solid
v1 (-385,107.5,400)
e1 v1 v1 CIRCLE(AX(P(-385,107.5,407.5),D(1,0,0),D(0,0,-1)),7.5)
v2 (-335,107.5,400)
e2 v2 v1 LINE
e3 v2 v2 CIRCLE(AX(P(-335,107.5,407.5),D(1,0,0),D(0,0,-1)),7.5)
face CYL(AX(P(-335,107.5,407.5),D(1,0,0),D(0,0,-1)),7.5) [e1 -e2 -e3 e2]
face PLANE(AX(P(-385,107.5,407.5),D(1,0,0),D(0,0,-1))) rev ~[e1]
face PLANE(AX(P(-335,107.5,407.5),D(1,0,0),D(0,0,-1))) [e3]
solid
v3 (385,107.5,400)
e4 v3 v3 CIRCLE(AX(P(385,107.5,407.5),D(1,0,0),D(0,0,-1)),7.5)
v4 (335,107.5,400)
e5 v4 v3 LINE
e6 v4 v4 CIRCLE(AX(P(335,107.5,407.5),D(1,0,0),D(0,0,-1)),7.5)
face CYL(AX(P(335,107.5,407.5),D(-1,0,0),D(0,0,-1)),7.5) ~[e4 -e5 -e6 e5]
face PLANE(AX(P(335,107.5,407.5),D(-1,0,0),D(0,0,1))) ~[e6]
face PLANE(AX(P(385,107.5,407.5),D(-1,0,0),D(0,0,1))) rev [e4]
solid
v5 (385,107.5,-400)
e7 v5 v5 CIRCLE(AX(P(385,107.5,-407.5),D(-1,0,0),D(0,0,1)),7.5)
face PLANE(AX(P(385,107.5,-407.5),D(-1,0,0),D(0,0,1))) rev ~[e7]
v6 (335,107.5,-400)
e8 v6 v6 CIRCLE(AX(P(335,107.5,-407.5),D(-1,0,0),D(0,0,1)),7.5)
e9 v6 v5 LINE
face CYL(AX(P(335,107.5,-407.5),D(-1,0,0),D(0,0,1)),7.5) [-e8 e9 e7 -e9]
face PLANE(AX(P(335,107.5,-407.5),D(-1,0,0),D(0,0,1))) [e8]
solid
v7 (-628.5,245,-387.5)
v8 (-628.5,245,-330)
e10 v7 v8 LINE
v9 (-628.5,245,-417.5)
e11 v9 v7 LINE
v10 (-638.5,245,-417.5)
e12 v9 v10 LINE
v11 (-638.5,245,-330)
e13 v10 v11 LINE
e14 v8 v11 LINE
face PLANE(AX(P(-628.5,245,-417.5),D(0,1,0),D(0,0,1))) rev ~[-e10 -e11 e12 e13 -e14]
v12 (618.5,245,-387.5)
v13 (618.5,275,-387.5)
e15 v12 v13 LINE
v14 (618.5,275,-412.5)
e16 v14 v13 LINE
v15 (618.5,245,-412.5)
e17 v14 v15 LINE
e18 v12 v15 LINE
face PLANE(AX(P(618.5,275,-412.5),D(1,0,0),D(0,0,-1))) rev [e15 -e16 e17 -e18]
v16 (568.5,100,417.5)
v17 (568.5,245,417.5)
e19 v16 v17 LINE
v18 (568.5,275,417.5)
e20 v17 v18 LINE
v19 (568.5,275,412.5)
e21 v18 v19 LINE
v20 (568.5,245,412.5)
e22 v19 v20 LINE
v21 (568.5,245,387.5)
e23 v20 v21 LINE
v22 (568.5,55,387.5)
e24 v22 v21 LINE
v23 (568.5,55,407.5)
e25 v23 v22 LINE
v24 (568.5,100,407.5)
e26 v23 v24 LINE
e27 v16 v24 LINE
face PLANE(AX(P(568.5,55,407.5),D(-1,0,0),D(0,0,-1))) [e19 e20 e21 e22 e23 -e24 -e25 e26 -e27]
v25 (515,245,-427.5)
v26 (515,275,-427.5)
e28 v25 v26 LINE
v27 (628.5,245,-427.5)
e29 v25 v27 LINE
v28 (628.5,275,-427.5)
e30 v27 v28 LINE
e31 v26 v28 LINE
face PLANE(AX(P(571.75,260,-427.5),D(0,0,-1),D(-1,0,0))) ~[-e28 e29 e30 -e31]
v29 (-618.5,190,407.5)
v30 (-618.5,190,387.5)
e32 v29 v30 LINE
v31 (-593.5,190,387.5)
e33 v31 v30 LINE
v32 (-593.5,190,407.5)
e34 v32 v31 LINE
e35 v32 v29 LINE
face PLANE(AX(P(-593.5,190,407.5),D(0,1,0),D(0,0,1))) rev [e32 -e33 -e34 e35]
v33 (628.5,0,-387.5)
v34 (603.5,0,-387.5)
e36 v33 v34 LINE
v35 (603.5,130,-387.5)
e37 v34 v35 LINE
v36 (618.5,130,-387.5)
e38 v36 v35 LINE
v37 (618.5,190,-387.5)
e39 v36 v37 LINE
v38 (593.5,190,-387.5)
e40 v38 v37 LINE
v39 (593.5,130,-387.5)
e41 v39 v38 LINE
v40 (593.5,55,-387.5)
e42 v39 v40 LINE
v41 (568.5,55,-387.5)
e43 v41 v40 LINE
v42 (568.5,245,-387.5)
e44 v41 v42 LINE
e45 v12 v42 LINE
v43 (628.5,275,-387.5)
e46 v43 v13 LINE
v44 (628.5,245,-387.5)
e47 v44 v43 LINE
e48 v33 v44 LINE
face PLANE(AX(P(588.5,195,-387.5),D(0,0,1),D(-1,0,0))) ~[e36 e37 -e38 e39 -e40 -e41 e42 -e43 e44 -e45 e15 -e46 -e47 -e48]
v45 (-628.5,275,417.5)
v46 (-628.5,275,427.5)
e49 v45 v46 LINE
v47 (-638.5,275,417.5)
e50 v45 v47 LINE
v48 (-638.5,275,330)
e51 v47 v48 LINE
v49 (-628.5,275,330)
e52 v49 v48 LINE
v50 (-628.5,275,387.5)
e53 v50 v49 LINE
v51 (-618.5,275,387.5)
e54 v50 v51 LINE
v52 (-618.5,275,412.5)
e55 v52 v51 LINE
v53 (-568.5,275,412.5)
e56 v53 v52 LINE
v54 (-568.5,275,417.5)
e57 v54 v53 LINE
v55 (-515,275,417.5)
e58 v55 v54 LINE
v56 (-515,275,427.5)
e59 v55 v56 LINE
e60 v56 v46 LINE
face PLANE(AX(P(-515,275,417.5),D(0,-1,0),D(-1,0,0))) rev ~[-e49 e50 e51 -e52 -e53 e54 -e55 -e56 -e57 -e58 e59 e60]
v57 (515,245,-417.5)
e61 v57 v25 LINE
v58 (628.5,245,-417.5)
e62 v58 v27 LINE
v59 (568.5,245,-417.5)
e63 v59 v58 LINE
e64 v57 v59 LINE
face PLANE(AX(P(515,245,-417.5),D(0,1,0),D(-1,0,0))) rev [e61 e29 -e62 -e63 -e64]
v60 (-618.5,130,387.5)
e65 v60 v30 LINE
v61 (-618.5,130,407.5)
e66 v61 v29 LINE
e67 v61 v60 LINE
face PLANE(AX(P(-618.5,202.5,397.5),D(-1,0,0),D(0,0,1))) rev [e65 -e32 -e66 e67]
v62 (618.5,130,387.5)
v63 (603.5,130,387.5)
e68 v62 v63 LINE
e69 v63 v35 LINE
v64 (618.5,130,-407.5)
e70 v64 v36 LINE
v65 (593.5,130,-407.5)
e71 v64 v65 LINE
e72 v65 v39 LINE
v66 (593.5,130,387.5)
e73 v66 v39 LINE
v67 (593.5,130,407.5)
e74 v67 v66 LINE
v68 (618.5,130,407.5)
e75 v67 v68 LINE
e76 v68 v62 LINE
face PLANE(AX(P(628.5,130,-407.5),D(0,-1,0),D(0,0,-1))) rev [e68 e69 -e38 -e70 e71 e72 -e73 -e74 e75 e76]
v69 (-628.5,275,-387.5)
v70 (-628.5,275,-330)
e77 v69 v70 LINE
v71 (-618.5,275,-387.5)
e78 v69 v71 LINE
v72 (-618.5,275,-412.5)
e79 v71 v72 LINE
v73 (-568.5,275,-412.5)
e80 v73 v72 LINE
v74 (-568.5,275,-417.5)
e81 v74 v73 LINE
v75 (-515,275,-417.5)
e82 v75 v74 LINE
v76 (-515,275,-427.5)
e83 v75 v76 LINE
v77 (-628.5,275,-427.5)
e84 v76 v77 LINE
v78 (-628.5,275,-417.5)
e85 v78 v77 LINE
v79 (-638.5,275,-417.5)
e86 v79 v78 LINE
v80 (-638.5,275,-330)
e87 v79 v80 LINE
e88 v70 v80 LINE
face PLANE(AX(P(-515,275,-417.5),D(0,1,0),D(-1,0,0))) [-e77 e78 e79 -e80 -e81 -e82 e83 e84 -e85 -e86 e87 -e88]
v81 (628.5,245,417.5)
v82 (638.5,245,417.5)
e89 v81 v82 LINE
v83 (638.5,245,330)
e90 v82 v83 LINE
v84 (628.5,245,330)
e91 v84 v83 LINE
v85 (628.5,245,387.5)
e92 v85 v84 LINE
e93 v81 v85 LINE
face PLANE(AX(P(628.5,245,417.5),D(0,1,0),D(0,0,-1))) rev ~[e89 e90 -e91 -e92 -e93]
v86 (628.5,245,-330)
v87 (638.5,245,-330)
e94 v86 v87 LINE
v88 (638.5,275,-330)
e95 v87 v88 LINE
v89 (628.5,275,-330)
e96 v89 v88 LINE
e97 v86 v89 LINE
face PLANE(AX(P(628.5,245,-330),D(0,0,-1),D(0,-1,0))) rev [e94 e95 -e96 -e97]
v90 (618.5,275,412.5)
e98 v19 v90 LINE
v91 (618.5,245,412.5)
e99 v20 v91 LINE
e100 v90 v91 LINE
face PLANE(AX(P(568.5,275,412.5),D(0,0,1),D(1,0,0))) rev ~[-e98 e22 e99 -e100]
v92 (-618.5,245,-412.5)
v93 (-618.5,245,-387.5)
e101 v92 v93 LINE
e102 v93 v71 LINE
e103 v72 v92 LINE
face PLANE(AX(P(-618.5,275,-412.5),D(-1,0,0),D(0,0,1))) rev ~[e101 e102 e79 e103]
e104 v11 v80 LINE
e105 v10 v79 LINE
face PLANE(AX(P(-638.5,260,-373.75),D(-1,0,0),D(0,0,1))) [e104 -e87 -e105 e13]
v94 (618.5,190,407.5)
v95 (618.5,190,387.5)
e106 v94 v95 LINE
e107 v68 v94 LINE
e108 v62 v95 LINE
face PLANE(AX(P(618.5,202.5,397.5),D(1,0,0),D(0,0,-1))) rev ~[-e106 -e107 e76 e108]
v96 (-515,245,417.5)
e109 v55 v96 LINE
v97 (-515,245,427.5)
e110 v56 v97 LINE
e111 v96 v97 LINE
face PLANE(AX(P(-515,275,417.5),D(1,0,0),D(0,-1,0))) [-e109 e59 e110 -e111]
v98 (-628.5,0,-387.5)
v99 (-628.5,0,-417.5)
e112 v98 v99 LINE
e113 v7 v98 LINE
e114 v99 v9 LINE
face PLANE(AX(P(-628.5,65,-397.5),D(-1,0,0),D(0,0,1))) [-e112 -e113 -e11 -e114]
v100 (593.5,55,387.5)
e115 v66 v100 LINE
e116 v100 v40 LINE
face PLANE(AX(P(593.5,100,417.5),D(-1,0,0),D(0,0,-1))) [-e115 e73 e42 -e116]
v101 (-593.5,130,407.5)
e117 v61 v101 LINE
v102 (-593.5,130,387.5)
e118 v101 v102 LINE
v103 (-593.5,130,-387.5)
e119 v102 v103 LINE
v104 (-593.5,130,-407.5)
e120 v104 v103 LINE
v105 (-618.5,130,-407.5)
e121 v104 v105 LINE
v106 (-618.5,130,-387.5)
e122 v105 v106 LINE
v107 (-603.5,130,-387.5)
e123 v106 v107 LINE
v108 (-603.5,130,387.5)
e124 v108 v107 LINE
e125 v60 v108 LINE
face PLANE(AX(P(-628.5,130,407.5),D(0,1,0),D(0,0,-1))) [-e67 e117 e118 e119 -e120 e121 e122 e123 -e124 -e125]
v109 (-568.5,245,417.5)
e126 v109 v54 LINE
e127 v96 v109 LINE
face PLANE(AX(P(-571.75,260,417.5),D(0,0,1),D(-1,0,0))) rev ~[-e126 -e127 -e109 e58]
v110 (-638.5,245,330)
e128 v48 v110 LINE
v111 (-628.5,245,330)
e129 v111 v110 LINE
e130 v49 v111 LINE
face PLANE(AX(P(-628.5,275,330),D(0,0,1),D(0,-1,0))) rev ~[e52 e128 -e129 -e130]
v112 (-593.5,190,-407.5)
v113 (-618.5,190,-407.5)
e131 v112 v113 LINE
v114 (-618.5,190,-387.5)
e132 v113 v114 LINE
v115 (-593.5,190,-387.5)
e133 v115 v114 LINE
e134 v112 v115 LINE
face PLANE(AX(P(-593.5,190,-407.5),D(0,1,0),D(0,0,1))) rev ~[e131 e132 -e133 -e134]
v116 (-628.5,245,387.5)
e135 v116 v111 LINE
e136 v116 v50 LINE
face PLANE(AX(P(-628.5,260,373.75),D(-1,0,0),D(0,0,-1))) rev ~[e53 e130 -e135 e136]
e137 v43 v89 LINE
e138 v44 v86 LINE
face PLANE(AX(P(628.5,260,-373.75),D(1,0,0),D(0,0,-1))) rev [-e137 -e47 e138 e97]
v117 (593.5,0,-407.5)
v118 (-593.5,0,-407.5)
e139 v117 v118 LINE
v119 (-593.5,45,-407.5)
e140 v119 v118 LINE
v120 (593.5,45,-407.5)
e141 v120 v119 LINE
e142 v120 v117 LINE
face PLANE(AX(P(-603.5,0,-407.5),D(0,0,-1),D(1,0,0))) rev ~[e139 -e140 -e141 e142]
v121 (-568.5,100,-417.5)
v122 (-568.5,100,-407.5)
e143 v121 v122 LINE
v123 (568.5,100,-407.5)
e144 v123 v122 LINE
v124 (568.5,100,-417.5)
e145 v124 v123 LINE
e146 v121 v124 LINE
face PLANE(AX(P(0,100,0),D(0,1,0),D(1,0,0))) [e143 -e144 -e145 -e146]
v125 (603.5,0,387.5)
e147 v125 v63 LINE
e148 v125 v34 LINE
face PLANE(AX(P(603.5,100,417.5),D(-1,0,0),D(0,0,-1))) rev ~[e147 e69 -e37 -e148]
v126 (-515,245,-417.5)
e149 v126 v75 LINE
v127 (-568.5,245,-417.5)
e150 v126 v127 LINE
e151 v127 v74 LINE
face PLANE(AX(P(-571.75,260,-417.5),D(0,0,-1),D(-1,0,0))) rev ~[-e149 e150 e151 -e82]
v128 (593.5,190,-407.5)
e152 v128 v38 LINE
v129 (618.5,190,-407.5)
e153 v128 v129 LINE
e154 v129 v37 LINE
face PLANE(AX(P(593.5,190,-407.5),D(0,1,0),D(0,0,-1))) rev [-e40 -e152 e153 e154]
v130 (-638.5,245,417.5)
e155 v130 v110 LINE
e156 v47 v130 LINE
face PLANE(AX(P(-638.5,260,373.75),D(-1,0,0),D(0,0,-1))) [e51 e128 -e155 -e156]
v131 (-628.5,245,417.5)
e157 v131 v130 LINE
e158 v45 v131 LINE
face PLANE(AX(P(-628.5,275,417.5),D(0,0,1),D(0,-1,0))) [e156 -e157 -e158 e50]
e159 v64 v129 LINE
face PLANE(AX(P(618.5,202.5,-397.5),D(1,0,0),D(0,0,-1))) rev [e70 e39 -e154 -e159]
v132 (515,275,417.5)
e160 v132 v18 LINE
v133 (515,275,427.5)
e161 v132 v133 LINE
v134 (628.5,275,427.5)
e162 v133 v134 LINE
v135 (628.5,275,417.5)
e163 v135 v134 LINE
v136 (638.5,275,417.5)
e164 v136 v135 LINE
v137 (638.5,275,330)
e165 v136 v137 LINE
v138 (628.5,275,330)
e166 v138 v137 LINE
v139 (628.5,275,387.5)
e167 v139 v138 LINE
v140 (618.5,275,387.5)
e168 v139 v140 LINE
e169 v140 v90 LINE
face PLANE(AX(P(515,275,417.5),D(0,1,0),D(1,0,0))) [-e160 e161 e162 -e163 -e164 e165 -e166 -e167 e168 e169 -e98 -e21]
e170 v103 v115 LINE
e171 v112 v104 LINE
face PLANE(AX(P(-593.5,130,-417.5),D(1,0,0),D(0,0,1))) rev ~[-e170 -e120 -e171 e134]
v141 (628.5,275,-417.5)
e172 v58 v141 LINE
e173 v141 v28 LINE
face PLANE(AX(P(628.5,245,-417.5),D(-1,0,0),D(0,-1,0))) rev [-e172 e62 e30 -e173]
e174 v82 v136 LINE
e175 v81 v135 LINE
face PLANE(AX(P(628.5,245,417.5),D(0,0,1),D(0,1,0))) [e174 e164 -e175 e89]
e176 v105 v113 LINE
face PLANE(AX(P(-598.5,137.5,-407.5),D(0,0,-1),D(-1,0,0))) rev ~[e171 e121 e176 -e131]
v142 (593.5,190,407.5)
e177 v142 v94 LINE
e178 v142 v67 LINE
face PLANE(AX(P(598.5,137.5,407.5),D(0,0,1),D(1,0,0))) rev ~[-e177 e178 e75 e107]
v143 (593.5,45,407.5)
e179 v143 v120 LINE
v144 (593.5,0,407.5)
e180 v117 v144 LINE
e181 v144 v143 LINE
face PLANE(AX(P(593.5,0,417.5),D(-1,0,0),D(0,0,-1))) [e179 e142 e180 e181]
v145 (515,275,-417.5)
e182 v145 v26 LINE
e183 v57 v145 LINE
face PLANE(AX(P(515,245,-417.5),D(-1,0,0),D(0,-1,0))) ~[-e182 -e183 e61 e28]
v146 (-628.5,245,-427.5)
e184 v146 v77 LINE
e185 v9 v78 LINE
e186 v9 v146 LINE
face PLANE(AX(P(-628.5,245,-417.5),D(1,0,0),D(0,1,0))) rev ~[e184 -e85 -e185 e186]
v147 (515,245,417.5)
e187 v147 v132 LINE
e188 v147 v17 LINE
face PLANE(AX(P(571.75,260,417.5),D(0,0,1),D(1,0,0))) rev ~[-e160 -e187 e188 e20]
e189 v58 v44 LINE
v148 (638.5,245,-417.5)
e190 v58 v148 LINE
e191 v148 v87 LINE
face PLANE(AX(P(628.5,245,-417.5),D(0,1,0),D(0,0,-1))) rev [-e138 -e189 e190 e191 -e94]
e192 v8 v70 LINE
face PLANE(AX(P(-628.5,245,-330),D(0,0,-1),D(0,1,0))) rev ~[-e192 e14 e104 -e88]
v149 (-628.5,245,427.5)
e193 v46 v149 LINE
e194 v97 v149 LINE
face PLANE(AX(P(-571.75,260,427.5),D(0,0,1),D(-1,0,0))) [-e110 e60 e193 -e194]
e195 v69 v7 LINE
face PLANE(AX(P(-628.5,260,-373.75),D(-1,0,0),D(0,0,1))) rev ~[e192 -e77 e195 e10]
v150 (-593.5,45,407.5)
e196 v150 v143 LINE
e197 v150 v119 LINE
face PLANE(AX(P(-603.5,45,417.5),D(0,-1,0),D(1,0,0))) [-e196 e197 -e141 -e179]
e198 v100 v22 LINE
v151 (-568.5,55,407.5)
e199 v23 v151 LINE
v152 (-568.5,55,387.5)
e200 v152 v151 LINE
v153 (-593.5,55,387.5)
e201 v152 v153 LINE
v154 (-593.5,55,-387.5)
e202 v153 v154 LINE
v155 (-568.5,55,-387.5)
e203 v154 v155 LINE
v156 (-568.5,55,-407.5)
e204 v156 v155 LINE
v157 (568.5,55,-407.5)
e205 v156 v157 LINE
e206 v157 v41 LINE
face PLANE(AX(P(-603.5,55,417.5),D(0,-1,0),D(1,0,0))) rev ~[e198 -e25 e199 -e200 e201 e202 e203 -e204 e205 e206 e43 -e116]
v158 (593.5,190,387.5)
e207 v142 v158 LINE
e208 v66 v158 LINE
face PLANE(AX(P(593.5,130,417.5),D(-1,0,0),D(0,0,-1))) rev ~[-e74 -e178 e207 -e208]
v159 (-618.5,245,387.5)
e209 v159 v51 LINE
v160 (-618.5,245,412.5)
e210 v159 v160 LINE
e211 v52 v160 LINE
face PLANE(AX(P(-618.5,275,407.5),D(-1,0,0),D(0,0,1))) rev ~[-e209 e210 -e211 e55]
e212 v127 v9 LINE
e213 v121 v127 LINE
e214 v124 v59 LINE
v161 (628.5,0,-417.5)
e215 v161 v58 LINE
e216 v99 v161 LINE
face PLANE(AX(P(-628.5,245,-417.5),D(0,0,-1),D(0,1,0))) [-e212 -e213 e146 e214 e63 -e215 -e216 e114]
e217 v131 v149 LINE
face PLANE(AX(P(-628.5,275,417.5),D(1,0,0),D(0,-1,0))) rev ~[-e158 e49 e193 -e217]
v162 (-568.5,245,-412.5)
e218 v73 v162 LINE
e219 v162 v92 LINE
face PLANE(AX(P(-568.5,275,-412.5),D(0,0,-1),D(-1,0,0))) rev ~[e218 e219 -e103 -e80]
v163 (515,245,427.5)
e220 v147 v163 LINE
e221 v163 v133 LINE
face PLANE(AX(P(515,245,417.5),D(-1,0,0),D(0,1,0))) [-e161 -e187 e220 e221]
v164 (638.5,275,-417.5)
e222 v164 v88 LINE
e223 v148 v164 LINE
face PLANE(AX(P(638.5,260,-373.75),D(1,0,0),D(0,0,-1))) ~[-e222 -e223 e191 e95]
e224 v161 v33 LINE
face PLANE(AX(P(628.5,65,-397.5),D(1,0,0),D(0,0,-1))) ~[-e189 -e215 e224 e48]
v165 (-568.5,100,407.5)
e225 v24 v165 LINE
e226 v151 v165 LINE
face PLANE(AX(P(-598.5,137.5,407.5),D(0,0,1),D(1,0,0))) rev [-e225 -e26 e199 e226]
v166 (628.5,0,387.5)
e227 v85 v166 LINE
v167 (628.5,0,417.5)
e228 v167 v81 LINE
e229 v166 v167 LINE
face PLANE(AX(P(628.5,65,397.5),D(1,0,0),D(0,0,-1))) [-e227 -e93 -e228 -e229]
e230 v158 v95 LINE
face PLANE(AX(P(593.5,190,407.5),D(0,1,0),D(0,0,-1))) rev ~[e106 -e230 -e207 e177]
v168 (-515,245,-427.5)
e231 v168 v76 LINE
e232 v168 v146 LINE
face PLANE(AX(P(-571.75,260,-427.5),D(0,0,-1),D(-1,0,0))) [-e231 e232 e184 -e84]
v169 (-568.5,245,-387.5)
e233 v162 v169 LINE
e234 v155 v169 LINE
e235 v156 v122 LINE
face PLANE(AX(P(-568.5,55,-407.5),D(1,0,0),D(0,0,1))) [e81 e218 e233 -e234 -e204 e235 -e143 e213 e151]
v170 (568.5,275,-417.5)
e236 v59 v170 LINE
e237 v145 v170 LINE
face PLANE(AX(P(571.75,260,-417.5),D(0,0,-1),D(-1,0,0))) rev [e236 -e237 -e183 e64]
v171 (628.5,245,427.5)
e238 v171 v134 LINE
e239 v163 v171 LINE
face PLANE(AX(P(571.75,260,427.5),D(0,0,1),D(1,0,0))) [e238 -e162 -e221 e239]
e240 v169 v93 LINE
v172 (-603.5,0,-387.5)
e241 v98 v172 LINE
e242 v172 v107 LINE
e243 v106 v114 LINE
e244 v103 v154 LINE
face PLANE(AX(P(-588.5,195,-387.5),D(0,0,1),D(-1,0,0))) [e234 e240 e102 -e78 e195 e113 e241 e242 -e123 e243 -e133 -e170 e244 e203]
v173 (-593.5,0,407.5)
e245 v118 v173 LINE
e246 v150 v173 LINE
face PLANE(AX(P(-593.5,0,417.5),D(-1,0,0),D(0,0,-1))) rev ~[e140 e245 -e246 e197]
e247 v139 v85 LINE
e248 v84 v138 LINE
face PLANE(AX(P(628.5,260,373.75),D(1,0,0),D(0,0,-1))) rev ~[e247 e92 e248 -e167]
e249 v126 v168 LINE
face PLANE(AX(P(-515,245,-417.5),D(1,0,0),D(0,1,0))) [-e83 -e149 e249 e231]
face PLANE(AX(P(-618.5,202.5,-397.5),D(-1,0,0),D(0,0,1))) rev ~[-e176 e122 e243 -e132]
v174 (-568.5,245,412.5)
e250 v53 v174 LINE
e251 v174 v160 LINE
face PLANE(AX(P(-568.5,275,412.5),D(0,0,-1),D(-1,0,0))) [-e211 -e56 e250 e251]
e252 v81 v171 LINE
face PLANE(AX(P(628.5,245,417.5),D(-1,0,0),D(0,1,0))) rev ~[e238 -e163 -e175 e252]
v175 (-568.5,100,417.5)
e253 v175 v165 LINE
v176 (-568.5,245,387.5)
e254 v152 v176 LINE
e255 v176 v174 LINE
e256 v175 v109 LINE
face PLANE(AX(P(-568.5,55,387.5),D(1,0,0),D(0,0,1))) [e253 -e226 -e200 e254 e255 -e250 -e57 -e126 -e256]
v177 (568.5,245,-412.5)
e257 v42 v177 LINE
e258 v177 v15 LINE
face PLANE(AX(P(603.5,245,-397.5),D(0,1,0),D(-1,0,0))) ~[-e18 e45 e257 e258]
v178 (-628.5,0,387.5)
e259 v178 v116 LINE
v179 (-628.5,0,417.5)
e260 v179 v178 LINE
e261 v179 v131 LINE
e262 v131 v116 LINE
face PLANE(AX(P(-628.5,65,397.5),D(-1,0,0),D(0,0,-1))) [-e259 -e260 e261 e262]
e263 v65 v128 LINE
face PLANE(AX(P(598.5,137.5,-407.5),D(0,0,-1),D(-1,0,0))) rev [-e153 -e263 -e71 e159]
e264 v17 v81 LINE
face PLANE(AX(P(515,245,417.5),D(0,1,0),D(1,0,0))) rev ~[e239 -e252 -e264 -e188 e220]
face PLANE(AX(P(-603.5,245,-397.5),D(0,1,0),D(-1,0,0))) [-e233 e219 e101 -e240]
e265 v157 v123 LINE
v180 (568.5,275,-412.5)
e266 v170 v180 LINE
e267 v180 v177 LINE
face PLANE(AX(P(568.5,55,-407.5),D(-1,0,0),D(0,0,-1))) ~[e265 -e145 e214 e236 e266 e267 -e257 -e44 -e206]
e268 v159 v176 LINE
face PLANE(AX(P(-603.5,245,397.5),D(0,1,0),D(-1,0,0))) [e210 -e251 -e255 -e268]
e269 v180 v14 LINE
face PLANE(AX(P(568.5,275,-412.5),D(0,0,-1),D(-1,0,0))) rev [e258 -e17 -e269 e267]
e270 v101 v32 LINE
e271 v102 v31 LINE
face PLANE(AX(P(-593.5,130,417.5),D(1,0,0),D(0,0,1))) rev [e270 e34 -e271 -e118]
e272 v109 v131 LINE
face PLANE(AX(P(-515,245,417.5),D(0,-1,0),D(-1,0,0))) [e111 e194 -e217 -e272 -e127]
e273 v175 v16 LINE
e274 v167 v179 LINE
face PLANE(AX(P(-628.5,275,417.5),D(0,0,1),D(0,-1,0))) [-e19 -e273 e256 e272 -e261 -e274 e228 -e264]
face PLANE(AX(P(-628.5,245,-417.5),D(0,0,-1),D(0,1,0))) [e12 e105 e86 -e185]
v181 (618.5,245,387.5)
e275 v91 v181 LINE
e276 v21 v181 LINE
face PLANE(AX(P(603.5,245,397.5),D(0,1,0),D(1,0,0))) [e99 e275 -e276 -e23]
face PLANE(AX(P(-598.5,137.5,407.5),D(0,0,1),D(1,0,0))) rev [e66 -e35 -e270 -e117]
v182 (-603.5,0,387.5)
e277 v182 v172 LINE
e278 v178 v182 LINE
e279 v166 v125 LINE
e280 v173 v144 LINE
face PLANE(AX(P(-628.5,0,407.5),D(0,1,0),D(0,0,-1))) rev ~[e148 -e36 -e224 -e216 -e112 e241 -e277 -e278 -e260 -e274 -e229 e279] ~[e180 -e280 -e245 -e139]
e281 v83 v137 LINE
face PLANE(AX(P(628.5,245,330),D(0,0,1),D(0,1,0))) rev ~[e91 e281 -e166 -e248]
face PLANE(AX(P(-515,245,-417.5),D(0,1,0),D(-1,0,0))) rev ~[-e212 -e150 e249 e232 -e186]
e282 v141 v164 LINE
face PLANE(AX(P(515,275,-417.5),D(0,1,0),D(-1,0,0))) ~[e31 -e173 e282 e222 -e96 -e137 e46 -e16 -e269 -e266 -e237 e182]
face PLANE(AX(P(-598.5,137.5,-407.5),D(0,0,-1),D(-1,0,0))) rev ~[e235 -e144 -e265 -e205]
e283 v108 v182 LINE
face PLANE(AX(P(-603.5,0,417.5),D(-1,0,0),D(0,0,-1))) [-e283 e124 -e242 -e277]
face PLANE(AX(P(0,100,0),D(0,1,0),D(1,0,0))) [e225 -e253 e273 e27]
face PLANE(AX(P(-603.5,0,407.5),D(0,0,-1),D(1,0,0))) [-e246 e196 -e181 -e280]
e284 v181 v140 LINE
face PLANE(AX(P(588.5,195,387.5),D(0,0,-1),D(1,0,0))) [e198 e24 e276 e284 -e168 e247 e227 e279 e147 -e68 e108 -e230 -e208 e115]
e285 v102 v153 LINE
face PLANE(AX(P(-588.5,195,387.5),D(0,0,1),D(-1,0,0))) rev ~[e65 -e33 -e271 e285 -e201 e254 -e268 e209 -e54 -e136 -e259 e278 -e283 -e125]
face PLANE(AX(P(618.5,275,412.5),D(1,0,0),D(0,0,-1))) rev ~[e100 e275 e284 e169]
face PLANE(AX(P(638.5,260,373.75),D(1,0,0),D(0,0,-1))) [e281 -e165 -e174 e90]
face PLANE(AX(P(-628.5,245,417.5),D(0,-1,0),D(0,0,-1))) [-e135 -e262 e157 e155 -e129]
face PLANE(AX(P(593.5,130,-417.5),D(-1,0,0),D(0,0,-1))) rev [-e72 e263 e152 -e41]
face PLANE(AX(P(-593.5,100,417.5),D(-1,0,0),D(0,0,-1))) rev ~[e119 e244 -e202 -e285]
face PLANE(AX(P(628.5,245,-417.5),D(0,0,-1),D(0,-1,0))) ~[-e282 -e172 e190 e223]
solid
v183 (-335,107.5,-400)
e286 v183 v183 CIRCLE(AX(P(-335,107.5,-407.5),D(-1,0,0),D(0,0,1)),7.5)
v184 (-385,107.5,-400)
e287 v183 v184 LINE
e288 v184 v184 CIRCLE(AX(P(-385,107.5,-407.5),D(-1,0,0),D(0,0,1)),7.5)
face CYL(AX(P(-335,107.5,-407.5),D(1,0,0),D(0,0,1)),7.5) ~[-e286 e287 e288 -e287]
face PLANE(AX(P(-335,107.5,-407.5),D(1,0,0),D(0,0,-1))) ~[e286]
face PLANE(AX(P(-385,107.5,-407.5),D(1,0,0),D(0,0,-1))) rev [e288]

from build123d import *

# Parameters (mm, degrees)
SCHIZZO1_W                    = 1207
SCHIZZO1_H                    = 835
ESTRUSIONE_ESTRUSIONE2_DEPTH  = 100
SVUOTA1_T                     = -10
ESTRUSIONE_ESTRUSIONE3_REACH  = 837
SCHIZZO6_W                    = 1207
SCHIZZO6_H                    = 10
SCHIZZO12_W                   = 10
SCHIZZO12_H                   = 835
ESTRUSIONE_ESTRUSIONE10_DEPTH = 30
SCHIZZO7_W                    = 60
SCHIZZO7_H                    = 275
ESTRUSIONE_ESTRUSIONE4_DEPTH  = 10
SCHIZZO8_W                    = 20
SCHIZZO8_H                    = 145
ESTRUSIONE_ESTRUSIONE5_DEPTH  = 10
SCHIZZO9_W                    = 5
SCHIZZO9_H                    = 30
ESTRUSIONE_ESTRUSIONE6_DEPTH  = 75
SCHIZZO10_W                   = 5
SCHIZZO10_H                   = 30
ESTRUSIONE_ESTRUSIONE7_DEPTH  = 65
SCHIZZO11_W                   = 5
SCHIZZO11_H                   = 20
ESTRUSIONE_ESTRUSIONE8_DEPTH  = 25
SCHIZZO8_3_W                  = 20
SCHIZZO8_3_H                  = 130
ESTRUSIONE_ESTRUSIONE9_DEPTH  = 25
SCHIZZO14_W                   = 87.5
SCHIZZO14_H                   = 30
ESTRUSIONE_ESTRUSIONE12_DEPTH = 10
SCHIZZO15_W                   = 50
SCHIZZO15_H                   = 5
TAGLIO_ESTRUSIONE1_DEPTH      = 30
SCHIZZO16_W                   = 20
SCHIZZO16_H                   = 20
ESTRUSIONE_ESTRUSIONE13_DEPTH = 190
SCHIZZO17_W                   = 30
SCHIZZO17_H                   = 20
ESTRUSIONE_ESTRUSIONE14_DEPTH = 50
SCHIZZO18_W                   = 113.5
SCHIZZO18_H                   = 30
ESTRUSIONE_ESTRUSIONE15_DEPTH = 10
SPECCHIA2_COPY_1_SKETCH_W     = 60
SPECCHIA2_COPY_1_SKETCH_H     = 275
SPECCHIA2_COPY_1_DEPTH        = 10
SPECCHIA2_COPY_2_SKETCH_W     = 20
SPECCHIA2_COPY_2_SKETCH_H     = 145
SPECCHIA2_COPY_2_DEPTH        = 10
SPECCHIA2_COPY_3_SKETCH_W     = 5
SPECCHIA2_COPY_3_SKETCH_H     = 30
SPECCHIA2_COPY_3_DEPTH        = 75
SPECCHIA2_COPY_4_SKETCH_W     = 5
SPECCHIA2_COPY_4_SKETCH_H     = 30
SPECCHIA2_COPY_4_DEPTH        = 65
SPECCHIA2_COPY_5_SKETCH_W     = 5
SPECCHIA2_COPY_5_SKETCH_H     = 20
SPECCHIA2_COPY_5_DEPTH        = 25
SPECCHIA2_COPY_6_SKETCH_W     = 20
SPECCHIA2_COPY_6_SKETCH_H     = 130
SPECCHIA2_COPY_6_DEPTH        = 25
SPECCHIA2_COPY_7_SKETCH_W     = 87.5
SPECCHIA2_COPY_7_SKETCH_H     = 30
SPECCHIA2_COPY_7_DEPTH        = 10
SPECCHIA2_COPY_8_SKETCH_W     = 50
SPECCHIA2_COPY_8_SKETCH_H     = 5
SPECCHIA2_COPY_8_DEPTH        = 30
SPECCHIA2_COPY_9_SKETCH_W     = 20
SPECCHIA2_COPY_9_SKETCH_H     = 20
SPECCHIA2_COPY_9_DEPTH        = 190
SPECCHIA2_COPY_10_SKETCH_W    = 30
SPECCHIA2_COPY_10_SKETCH_H    = 20
SPECCHIA2_COPY_10_DEPTH       = 50
SPECCHIA2_COPY_11_SKETCH_W    = 113.5
SPECCHIA2_COPY_11_SKETCH_H    = 30
SPECCHIA2_COPY_11_DEPTH       = 10
SPECCHIA2_COPY_12_SKETCH_W    = 20
SPECCHIA2_COPY_12_SKETCH_H    = 130
SPECCHIA2_COPY_12_DEPTH       = 25
SPECCHIA2_COPY_13_SKETCH_W    = 87.5
SPECCHIA2_COPY_13_SKETCH_H    = 30
SPECCHIA2_COPY_13_DEPTH       = 10
SPECCHIA2_COPY_14_SKETCH_W    = 50
SPECCHIA2_COPY_14_SKETCH_H    = 5
SPECCHIA2_COPY_14_DEPTH       = 30
SPECCHIA2_COPY_15_SKETCH_W    = 20
SPECCHIA2_COPY_15_SKETCH_H    = 20
SPECCHIA2_COPY_15_DEPTH       = 190
SPECCHIA2_COPY_16_SKETCH_W    = 30
SPECCHIA2_COPY_16_SKETCH_H    = 20
SPECCHIA2_COPY_16_DEPTH       = 50
SPECCHIA2_COPY_17_SKETCH_W    = 113.5
SPECCHIA2_COPY_17_SKETCH_H    = 30
SPECCHIA2_COPY_17_DEPTH       = 10
ESTRUSIONE_ESTRUSIONE11_START = 233.5
SCHIZZO13_R                   = 7.5
ESTRUSIONE_ESTRUSIONE11_DEPTH = 50


with BuildPart() as part:
    # Schizzo1 → Estrusione-Estrusione2 (new body)
    with BuildSketch(Plane(origin=(0, 0, 0), x_dir=(1, 0, 0), z_dir=(0, 1, 0))):
        Rectangle(SCHIZZO1_W, SCHIZZO1_H)
    extrude(amount=ESTRUSIONE_ESTRUSIONE2_DEPTH)

    # Svuota1
    svuota1_openings = [part.faces().sort_by_distance(p)[0] for p in [
        (0, 100, 0),
        (0, 0, 0),
    ]]
    offset(amount=SVUOTA1_T, openings=svuota1_openings, kind=Kind.INTERSECTION)

    # Schizzo6 → Estrusione-Estrusione3 (add, up to next)
    with BuildSketch(Plane.XY.offset(417.5), mode=Mode.PRIVATE) as estrusione_estrusione3_sk1:
        with Locations((0, 50)):
            Rectangle(SCHIZZO6_W, SCHIZZO6_H)
    estrusione_estrusione3_tool1 = extrude(estrusione_estrusione3_sk1.sketch, amount=-ESTRUSIONE_ESTRUSIONE3_REACH, mode=Mode.PRIVATE) - part.part
    add(estrusione_estrusione3_tool1.solids().sort_by_distance((0, 50, 417.5))[0])

    # Schizzo12 → Estrusione-Estrusione10 (add)
    with BuildSketch(Plane(origin=(0, 100, 0), x_dir=(1, 0, 0), z_dir=(0, 1, 0))):
        with Locations((598.5, 0)):
            Rectangle(SCHIZZO12_W, SCHIZZO12_H)
        with Locations((-598.5, 0)):
            Rectangle(SCHIZZO12_W, SCHIZZO12_H)
    extrude(amount=ESTRUSIONE_ESTRUSIONE10_DEPTH)

    # Schizzo7 → Estrusione-Estrusione4 (add)
    with BuildSketch(Plane.XY.offset(417.5)):
        with Locations((598.5, 137.5)):
            Rectangle(SCHIZZO7_W, SCHIZZO7_H)
    estrusione_estrusione4 = extrude(amount=-ESTRUSIONE_ESTRUSIONE4_DEPTH)

    # Schizzo8 → Estrusione-Estrusione5 (add)
    with BuildSketch(Plane(origin=(628.5, 0, 0), x_dir=(0, 0, -1), z_dir=(1, 0, 0))):
        with Locations((-397.5, 202.5)):
            Rectangle(SCHIZZO8_W, SCHIZZO8_H)
    estrusione_estrusione5 = extrude(amount=-ESTRUSIONE_ESTRUSIONE5_DEPTH)

    # Schizzo9 → Estrusione-Estrusione6 (add)
    with BuildSketch(Plane(origin=(0, 130, 0), x_dir=(1, 0, 0), z_dir=(0, 1, 0))):
        with Locations((591, -402.5)):
            Rectangle(SCHIZZO9_W, SCHIZZO9_H)
    estrusione_estrusione6 = extrude(amount=-ESTRUSIONE_ESTRUSIONE6_DEPTH)

    # Schizzo10 → Estrusione-Estrusione7 (add)
    with BuildSketch(Plane(origin=(0, 130, 0), x_dir=(1, 0, 0), z_dir=(0, 1, 0))):
        with Locations((591, -402.5)):
            Rectangle(SCHIZZO10_W, SCHIZZO10_H)
    estrusione_estrusione7 = extrude(amount=ESTRUSIONE_ESTRUSIONE7_DEPTH)

    # Schizzo11 → Estrusione-Estrusione8 (add)
    with BuildSketch(Plane(origin=(593.5, -365, 0), x_dir=(0, 1, 0), z_dir=(-1, 0, 0))):
        with Locations((557.5, -397.5)):
            Rectangle(SCHIZZO11_W, SCHIZZO11_H)
    estrusione_estrusione8 = extrude(amount=-ESTRUSIONE_ESTRUSIONE8_DEPTH)

    # Schizzo8<3> → Estrusione-Estrusione9 (add)
    with BuildSketch(Plane(origin=(628.5, 0, 0), x_dir=(0, 0, -1), z_dir=(1, 0, 0))):
        with Locations((-397.5, 65)):
            Rectangle(SCHIZZO8_3_W, SCHIZZO8_3_H)
    estrusione_estrusione9 = extrude(amount=-ESTRUSIONE_ESTRUSIONE9_DEPTH)

    # Schizzo14 → Estrusione-Estrusione12 (add)
    with BuildSketch(Plane(origin=(628.5, 0, 0), x_dir=(0, 0, -1), z_dir=(1, 0, 0))):
        with Locations((-373.75, 260)):
            Rectangle(SCHIZZO14_W, SCHIZZO14_H)
    estrusione_estrusione12 = extrude(amount=ESTRUSIONE_ESTRUSIONE12_DEPTH)

    # Schizzo15 → Taglio-Estrusione1 (cut)
    with BuildSketch(Plane(origin=(0, 275, 0), x_dir=(1, 0, 0), z_dir=(0, 1, 0))):
        with Locations((593.5, -410)):
            Rectangle(SCHIZZO15_W, SCHIZZO15_H)
    taglio_estrusione1 = extrude(amount=-TAGLIO_ESTRUSIONE1_DEPTH, mode=Mode.SUBTRACT)

    # Schizzo16 → Estrusione-Estrusione13 (add)
    with BuildSketch(Plane(origin=(0, 55, 0), x_dir=(1, 0, 0), z_dir=(0, 1, 0))):
        with Locations((578.5, -397.5)):
            Rectangle(SCHIZZO16_W, SCHIZZO16_H)
    estrusione_estrusione13 = extrude(amount=ESTRUSIONE_ESTRUSIONE13_DEPTH)

    # Schizzo17 → Estrusione-Estrusione14 (add)
    with BuildSketch(Plane(origin=(0, 195, 0), x_dir=(1, 0, 0), z_dir=(0, 1, 0))):
        with Locations((603.5, -397.5)):
            Rectangle(SCHIZZO17_W, SCHIZZO17_H)
    estrusione_estrusione14 = extrude(amount=ESTRUSIONE_ESTRUSIONE14_DEPTH)

    # Schizzo18 → Estrusione-Estrusione15 (add)
    with BuildSketch(Plane.XY.offset(417.5)):
        with Locations((571.75, 260)):
            Rectangle(SCHIZZO18_W, SCHIZZO18_H)
    estrusione_estrusione15 = extrude(amount=ESTRUSIONE_ESTRUSIONE15_DEPTH)

    # Specchia1: Estrusione-Estrusione4, Estrusione-Estrusione5, Estrusione-Estrusione6, Estrusione-Estrusione7, Estrusione-Estrusione8, Estrusione-Estrusione9, Estrusione-Estrusione12, Taglio-Estrusione1, Estrusione-Estrusione13, Estrusione-Estrusione14, Estrusione-Estrusione15 across plane
    add(estrusione_estrusione4.mirror(Plane.XY))
    add(estrusione_estrusione5.mirror(Plane.XY))
    add(estrusione_estrusione6.mirror(Plane.XY))
    add(estrusione_estrusione7.mirror(Plane.XY))
    add(estrusione_estrusione8.mirror(Plane.XY))
    add(estrusione_estrusione9.mirror(Plane.XY))
    add(estrusione_estrusione12.mirror(Plane.XY))
    add(taglio_estrusione1.mirror(Plane.XY), mode=Mode.SUBTRACT)
    add(estrusione_estrusione13.mirror(Plane.XY))
    add(estrusione_estrusione14.mirror(Plane.XY))
    add(estrusione_estrusione15.mirror(Plane.XY))

    # Specchia2: Estrusione-Estrusione4, Estrusione-Estrusione5, Estrusione-Estrusione6, Estrusione-Estrusione7, Estrusione-Estrusione8 across plane
    add(estrusione_estrusione4.mirror(Plane(origin=(0, 0, 0), x_dir=(0, 0, 1), z_dir=(1, 0, 0))))
    add(estrusione_estrusione5.mirror(Plane(origin=(0, 0, 0), x_dir=(0, 0, 1), z_dir=(1, 0, 0))))
    add(estrusione_estrusione6.mirror(Plane(origin=(0, 0, 0), x_dir=(0, 0, 1), z_dir=(1, 0, 0))))
    add(estrusione_estrusione7.mirror(Plane(origin=(0, 0, 0), x_dir=(0, 0, 1), z_dir=(1, 0, 0))))
    add(estrusione_estrusione8.mirror(Plane(origin=(0, 0, 0), x_dir=(0, 0, 1), z_dir=(1, 0, 0))))

    # Specchia2 copy 1 sketch → Specchia2 copy 1 (add)
    with BuildSketch(Plane(origin=(0, 0, -417.5), x_dir=(-1, 0, 0), z_dir=(0, 0, -1))):
        with Locations((598.5, 137.5)):
            Rectangle(SPECCHIA2_COPY_1_SKETCH_W, SPECCHIA2_COPY_1_SKETCH_H)
    extrude(amount=-SPECCHIA2_COPY_1_DEPTH)

    # Specchia2 copy 2 sketch → Specchia2 copy 2 (add)
    with BuildSketch(Plane.ZY.offset(628.5)):
        with Locations((-397.5, 202.5)):
            Rectangle(SPECCHIA2_COPY_2_SKETCH_W, SPECCHIA2_COPY_2_SKETCH_H)
    extrude(amount=-SPECCHIA2_COPY_2_DEPTH)

    # Specchia2 copy 3 sketch → Specchia2 copy 3 (add)
    with BuildSketch(Plane(origin=(0, 130, 0), x_dir=(-1, 0, 0), z_dir=(0, 1, 0))):
        with Locations((591, -402.5)):
            Rectangle(SPECCHIA2_COPY_3_SKETCH_W, SPECCHIA2_COPY_3_SKETCH_H)
    extrude(amount=-SPECCHIA2_COPY_3_DEPTH)

    # Specchia2 copy 4 sketch → Specchia2 copy 4 (add)
    with BuildSketch(Plane(origin=(0, 130, 0), x_dir=(-1, 0, 0), z_dir=(0, 1, 0))):
        with Locations((591, -402.5)):
            Rectangle(SPECCHIA2_COPY_4_SKETCH_W, SPECCHIA2_COPY_4_SKETCH_H)
    extrude(amount=SPECCHIA2_COPY_4_DEPTH)

    # Specchia2 copy 5 sketch → Specchia2 copy 5 (add)
    with BuildSketch(Plane(origin=(-593.5, -365, 0), x_dir=(0, 1, 0), z_dir=(1, 0, 0))):
        with Locations((557.5, -397.5)):
            Rectangle(SPECCHIA2_COPY_5_SKETCH_W, SPECCHIA2_COPY_5_SKETCH_H)
    extrude(amount=-SPECCHIA2_COPY_5_DEPTH)

    # Specchia2 copy 6 sketch → Specchia2 copy 6 (add)
    with BuildSketch(Plane.ZY.offset(628.5)):
        with Locations((-397.5, 65)):
            Rectangle(SPECCHIA2_COPY_6_SKETCH_W, SPECCHIA2_COPY_6_SKETCH_H)
    extrude(amount=-SPECCHIA2_COPY_6_DEPTH)

    # Specchia2 copy 7 sketch → Specchia2 copy 7 (add)
    with BuildSketch(Plane.ZY.offset(628.5)):
        with Locations((-373.75, 260)):
            Rectangle(SPECCHIA2_COPY_7_SKETCH_W, SPECCHIA2_COPY_7_SKETCH_H)
    extrude(amount=SPECCHIA2_COPY_7_DEPTH)

    # Specchia2 copy 8 sketch → Specchia2 copy 8 (cut)
    with BuildSketch(Plane(origin=(0, 275, 0), x_dir=(-1, 0, 0), z_dir=(0, 1, 0))):
        with Locations((593.5, -410)):
            Rectangle(SPECCHIA2_COPY_8_SKETCH_W, SPECCHIA2_COPY_8_SKETCH_H)
    extrude(amount=-SPECCHIA2_COPY_8_DEPTH, mode=Mode.SUBTRACT)

    # Specchia2 copy 9 sketch → Specchia2 copy 9 (add)
    with BuildSketch(Plane(origin=(0, 55, 0), x_dir=(-1, 0, 0), z_dir=(0, 1, 0))):
        with Locations((578.5, -397.5)):
            Rectangle(SPECCHIA2_COPY_9_SKETCH_W, SPECCHIA2_COPY_9_SKETCH_H)
    extrude(amount=SPECCHIA2_COPY_9_DEPTH)

    # Specchia2 copy 10 sketch → Specchia2 copy 10 (add)
    with BuildSketch(Plane(origin=(0, 195, 0), x_dir=(-1, 0, 0), z_dir=(0, 1, 0))):
        with Locations((603.5, -397.5)):
            Rectangle(SPECCHIA2_COPY_10_SKETCH_W, SPECCHIA2_COPY_10_SKETCH_H)
    extrude(amount=SPECCHIA2_COPY_10_DEPTH)

    # Specchia2 copy 11 sketch → Specchia2 copy 11 (add)
    with BuildSketch(Plane(origin=(0, 0, -417.5), x_dir=(-1, 0, 0), z_dir=(0, 0, -1))):
        with Locations((571.75, 260)):
            Rectangle(SPECCHIA2_COPY_11_SKETCH_W, SPECCHIA2_COPY_11_SKETCH_H)
    extrude(amount=SPECCHIA2_COPY_11_DEPTH)

    # Specchia2 copy 12 sketch → Specchia2 copy 12 (add)
    with BuildSketch(Plane(origin=(-628.5, 0, 0), x_dir=(0, 0, -1), z_dir=(-1, 0, 0))):
        with Locations((-397.5, -65)):
            Rectangle(SPECCHIA2_COPY_12_SKETCH_W, SPECCHIA2_COPY_12_SKETCH_H)
    extrude(amount=-SPECCHIA2_COPY_12_DEPTH)

    # Specchia2 copy 13 sketch → Specchia2 copy 13 (add)
    with BuildSketch(Plane(origin=(-628.5, 0, 0), x_dir=(0, 0, -1), z_dir=(-1, 0, 0))):
        with Locations((-373.75, -260)):
            Rectangle(SPECCHIA2_COPY_13_SKETCH_W, SPECCHIA2_COPY_13_SKETCH_H)
    extrude(amount=SPECCHIA2_COPY_13_DEPTH)

    # Specchia2 copy 14 sketch → Specchia2 copy 14 (cut)
    with BuildSketch(Plane(origin=(0, 275, 0), x_dir=(-1, 0, 0), z_dir=(0, 1, 0))):
        with Locations((593.5, 410)):
            Rectangle(SPECCHIA2_COPY_14_SKETCH_W, SPECCHIA2_COPY_14_SKETCH_H)
    extrude(amount=-SPECCHIA2_COPY_14_DEPTH, mode=Mode.SUBTRACT)

    # Specchia2 copy 15 sketch → Specchia2 copy 15 (add)
    with BuildSketch(Plane(origin=(0, 55, 0), x_dir=(-1, 0, 0), z_dir=(0, 1, 0))):
        with Locations((578.5, 397.5)):
            Rectangle(SPECCHIA2_COPY_15_SKETCH_W, SPECCHIA2_COPY_15_SKETCH_H)
    extrude(amount=SPECCHIA2_COPY_15_DEPTH)

    # Specchia2 copy 16 sketch → Specchia2 copy 16 (add)
    with BuildSketch(Plane(origin=(0, 195, 0), x_dir=(-1, 0, 0), z_dir=(0, 1, 0))):
        with Locations((603.5, 397.5)):
            Rectangle(SPECCHIA2_COPY_16_SKETCH_W, SPECCHIA2_COPY_16_SKETCH_H)
    extrude(amount=SPECCHIA2_COPY_16_DEPTH)

    # Specchia2 copy 17 sketch → Specchia2 copy 17 (add)
    with BuildSketch(Plane(origin=(0, 0, 417.5), x_dir=(-1, 0, 0), z_dir=(0, 0, 1))):
        with Locations((571.75, -260)):
            Rectangle(SPECCHIA2_COPY_17_SKETCH_W, SPECCHIA2_COPY_17_SKETCH_H)
    extrude(amount=SPECCHIA2_COPY_17_DEPTH)


with BuildPart() as body_2:
    # Schizzo13 → Estrusione-Estrusione11 (new body)
    with BuildSketch(Plane.ZY.offset(-568.5).offset(ESTRUSIONE_ESTRUSIONE11_START)):
        with Locations((-407.5, 107.5)):
            Circle(SCHIZZO13_R)
    extrude(amount=-ESTRUSIONE_ESTRUSIONE11_DEPTH)


with BuildPart() as body_3:
    # Specchia3: mirrored copy
    add(body_2.part.mirror(Plane(origin=(0, 0, 0), x_dir=(0, 0, 1), z_dir=(1, 0, 0))))


with BuildPart() as body_4:
    # Specchia4: mirrored copy
    add(body_3.part.mirror(Plane.XY))


with BuildPart() as body_5:
    # Specchia4 2: mirrored copy
    add(body_2.part.mirror(Plane.XY))


solid = Compound([part.part, body_2.part, body_3.part, body_4.part, body_5.part])
